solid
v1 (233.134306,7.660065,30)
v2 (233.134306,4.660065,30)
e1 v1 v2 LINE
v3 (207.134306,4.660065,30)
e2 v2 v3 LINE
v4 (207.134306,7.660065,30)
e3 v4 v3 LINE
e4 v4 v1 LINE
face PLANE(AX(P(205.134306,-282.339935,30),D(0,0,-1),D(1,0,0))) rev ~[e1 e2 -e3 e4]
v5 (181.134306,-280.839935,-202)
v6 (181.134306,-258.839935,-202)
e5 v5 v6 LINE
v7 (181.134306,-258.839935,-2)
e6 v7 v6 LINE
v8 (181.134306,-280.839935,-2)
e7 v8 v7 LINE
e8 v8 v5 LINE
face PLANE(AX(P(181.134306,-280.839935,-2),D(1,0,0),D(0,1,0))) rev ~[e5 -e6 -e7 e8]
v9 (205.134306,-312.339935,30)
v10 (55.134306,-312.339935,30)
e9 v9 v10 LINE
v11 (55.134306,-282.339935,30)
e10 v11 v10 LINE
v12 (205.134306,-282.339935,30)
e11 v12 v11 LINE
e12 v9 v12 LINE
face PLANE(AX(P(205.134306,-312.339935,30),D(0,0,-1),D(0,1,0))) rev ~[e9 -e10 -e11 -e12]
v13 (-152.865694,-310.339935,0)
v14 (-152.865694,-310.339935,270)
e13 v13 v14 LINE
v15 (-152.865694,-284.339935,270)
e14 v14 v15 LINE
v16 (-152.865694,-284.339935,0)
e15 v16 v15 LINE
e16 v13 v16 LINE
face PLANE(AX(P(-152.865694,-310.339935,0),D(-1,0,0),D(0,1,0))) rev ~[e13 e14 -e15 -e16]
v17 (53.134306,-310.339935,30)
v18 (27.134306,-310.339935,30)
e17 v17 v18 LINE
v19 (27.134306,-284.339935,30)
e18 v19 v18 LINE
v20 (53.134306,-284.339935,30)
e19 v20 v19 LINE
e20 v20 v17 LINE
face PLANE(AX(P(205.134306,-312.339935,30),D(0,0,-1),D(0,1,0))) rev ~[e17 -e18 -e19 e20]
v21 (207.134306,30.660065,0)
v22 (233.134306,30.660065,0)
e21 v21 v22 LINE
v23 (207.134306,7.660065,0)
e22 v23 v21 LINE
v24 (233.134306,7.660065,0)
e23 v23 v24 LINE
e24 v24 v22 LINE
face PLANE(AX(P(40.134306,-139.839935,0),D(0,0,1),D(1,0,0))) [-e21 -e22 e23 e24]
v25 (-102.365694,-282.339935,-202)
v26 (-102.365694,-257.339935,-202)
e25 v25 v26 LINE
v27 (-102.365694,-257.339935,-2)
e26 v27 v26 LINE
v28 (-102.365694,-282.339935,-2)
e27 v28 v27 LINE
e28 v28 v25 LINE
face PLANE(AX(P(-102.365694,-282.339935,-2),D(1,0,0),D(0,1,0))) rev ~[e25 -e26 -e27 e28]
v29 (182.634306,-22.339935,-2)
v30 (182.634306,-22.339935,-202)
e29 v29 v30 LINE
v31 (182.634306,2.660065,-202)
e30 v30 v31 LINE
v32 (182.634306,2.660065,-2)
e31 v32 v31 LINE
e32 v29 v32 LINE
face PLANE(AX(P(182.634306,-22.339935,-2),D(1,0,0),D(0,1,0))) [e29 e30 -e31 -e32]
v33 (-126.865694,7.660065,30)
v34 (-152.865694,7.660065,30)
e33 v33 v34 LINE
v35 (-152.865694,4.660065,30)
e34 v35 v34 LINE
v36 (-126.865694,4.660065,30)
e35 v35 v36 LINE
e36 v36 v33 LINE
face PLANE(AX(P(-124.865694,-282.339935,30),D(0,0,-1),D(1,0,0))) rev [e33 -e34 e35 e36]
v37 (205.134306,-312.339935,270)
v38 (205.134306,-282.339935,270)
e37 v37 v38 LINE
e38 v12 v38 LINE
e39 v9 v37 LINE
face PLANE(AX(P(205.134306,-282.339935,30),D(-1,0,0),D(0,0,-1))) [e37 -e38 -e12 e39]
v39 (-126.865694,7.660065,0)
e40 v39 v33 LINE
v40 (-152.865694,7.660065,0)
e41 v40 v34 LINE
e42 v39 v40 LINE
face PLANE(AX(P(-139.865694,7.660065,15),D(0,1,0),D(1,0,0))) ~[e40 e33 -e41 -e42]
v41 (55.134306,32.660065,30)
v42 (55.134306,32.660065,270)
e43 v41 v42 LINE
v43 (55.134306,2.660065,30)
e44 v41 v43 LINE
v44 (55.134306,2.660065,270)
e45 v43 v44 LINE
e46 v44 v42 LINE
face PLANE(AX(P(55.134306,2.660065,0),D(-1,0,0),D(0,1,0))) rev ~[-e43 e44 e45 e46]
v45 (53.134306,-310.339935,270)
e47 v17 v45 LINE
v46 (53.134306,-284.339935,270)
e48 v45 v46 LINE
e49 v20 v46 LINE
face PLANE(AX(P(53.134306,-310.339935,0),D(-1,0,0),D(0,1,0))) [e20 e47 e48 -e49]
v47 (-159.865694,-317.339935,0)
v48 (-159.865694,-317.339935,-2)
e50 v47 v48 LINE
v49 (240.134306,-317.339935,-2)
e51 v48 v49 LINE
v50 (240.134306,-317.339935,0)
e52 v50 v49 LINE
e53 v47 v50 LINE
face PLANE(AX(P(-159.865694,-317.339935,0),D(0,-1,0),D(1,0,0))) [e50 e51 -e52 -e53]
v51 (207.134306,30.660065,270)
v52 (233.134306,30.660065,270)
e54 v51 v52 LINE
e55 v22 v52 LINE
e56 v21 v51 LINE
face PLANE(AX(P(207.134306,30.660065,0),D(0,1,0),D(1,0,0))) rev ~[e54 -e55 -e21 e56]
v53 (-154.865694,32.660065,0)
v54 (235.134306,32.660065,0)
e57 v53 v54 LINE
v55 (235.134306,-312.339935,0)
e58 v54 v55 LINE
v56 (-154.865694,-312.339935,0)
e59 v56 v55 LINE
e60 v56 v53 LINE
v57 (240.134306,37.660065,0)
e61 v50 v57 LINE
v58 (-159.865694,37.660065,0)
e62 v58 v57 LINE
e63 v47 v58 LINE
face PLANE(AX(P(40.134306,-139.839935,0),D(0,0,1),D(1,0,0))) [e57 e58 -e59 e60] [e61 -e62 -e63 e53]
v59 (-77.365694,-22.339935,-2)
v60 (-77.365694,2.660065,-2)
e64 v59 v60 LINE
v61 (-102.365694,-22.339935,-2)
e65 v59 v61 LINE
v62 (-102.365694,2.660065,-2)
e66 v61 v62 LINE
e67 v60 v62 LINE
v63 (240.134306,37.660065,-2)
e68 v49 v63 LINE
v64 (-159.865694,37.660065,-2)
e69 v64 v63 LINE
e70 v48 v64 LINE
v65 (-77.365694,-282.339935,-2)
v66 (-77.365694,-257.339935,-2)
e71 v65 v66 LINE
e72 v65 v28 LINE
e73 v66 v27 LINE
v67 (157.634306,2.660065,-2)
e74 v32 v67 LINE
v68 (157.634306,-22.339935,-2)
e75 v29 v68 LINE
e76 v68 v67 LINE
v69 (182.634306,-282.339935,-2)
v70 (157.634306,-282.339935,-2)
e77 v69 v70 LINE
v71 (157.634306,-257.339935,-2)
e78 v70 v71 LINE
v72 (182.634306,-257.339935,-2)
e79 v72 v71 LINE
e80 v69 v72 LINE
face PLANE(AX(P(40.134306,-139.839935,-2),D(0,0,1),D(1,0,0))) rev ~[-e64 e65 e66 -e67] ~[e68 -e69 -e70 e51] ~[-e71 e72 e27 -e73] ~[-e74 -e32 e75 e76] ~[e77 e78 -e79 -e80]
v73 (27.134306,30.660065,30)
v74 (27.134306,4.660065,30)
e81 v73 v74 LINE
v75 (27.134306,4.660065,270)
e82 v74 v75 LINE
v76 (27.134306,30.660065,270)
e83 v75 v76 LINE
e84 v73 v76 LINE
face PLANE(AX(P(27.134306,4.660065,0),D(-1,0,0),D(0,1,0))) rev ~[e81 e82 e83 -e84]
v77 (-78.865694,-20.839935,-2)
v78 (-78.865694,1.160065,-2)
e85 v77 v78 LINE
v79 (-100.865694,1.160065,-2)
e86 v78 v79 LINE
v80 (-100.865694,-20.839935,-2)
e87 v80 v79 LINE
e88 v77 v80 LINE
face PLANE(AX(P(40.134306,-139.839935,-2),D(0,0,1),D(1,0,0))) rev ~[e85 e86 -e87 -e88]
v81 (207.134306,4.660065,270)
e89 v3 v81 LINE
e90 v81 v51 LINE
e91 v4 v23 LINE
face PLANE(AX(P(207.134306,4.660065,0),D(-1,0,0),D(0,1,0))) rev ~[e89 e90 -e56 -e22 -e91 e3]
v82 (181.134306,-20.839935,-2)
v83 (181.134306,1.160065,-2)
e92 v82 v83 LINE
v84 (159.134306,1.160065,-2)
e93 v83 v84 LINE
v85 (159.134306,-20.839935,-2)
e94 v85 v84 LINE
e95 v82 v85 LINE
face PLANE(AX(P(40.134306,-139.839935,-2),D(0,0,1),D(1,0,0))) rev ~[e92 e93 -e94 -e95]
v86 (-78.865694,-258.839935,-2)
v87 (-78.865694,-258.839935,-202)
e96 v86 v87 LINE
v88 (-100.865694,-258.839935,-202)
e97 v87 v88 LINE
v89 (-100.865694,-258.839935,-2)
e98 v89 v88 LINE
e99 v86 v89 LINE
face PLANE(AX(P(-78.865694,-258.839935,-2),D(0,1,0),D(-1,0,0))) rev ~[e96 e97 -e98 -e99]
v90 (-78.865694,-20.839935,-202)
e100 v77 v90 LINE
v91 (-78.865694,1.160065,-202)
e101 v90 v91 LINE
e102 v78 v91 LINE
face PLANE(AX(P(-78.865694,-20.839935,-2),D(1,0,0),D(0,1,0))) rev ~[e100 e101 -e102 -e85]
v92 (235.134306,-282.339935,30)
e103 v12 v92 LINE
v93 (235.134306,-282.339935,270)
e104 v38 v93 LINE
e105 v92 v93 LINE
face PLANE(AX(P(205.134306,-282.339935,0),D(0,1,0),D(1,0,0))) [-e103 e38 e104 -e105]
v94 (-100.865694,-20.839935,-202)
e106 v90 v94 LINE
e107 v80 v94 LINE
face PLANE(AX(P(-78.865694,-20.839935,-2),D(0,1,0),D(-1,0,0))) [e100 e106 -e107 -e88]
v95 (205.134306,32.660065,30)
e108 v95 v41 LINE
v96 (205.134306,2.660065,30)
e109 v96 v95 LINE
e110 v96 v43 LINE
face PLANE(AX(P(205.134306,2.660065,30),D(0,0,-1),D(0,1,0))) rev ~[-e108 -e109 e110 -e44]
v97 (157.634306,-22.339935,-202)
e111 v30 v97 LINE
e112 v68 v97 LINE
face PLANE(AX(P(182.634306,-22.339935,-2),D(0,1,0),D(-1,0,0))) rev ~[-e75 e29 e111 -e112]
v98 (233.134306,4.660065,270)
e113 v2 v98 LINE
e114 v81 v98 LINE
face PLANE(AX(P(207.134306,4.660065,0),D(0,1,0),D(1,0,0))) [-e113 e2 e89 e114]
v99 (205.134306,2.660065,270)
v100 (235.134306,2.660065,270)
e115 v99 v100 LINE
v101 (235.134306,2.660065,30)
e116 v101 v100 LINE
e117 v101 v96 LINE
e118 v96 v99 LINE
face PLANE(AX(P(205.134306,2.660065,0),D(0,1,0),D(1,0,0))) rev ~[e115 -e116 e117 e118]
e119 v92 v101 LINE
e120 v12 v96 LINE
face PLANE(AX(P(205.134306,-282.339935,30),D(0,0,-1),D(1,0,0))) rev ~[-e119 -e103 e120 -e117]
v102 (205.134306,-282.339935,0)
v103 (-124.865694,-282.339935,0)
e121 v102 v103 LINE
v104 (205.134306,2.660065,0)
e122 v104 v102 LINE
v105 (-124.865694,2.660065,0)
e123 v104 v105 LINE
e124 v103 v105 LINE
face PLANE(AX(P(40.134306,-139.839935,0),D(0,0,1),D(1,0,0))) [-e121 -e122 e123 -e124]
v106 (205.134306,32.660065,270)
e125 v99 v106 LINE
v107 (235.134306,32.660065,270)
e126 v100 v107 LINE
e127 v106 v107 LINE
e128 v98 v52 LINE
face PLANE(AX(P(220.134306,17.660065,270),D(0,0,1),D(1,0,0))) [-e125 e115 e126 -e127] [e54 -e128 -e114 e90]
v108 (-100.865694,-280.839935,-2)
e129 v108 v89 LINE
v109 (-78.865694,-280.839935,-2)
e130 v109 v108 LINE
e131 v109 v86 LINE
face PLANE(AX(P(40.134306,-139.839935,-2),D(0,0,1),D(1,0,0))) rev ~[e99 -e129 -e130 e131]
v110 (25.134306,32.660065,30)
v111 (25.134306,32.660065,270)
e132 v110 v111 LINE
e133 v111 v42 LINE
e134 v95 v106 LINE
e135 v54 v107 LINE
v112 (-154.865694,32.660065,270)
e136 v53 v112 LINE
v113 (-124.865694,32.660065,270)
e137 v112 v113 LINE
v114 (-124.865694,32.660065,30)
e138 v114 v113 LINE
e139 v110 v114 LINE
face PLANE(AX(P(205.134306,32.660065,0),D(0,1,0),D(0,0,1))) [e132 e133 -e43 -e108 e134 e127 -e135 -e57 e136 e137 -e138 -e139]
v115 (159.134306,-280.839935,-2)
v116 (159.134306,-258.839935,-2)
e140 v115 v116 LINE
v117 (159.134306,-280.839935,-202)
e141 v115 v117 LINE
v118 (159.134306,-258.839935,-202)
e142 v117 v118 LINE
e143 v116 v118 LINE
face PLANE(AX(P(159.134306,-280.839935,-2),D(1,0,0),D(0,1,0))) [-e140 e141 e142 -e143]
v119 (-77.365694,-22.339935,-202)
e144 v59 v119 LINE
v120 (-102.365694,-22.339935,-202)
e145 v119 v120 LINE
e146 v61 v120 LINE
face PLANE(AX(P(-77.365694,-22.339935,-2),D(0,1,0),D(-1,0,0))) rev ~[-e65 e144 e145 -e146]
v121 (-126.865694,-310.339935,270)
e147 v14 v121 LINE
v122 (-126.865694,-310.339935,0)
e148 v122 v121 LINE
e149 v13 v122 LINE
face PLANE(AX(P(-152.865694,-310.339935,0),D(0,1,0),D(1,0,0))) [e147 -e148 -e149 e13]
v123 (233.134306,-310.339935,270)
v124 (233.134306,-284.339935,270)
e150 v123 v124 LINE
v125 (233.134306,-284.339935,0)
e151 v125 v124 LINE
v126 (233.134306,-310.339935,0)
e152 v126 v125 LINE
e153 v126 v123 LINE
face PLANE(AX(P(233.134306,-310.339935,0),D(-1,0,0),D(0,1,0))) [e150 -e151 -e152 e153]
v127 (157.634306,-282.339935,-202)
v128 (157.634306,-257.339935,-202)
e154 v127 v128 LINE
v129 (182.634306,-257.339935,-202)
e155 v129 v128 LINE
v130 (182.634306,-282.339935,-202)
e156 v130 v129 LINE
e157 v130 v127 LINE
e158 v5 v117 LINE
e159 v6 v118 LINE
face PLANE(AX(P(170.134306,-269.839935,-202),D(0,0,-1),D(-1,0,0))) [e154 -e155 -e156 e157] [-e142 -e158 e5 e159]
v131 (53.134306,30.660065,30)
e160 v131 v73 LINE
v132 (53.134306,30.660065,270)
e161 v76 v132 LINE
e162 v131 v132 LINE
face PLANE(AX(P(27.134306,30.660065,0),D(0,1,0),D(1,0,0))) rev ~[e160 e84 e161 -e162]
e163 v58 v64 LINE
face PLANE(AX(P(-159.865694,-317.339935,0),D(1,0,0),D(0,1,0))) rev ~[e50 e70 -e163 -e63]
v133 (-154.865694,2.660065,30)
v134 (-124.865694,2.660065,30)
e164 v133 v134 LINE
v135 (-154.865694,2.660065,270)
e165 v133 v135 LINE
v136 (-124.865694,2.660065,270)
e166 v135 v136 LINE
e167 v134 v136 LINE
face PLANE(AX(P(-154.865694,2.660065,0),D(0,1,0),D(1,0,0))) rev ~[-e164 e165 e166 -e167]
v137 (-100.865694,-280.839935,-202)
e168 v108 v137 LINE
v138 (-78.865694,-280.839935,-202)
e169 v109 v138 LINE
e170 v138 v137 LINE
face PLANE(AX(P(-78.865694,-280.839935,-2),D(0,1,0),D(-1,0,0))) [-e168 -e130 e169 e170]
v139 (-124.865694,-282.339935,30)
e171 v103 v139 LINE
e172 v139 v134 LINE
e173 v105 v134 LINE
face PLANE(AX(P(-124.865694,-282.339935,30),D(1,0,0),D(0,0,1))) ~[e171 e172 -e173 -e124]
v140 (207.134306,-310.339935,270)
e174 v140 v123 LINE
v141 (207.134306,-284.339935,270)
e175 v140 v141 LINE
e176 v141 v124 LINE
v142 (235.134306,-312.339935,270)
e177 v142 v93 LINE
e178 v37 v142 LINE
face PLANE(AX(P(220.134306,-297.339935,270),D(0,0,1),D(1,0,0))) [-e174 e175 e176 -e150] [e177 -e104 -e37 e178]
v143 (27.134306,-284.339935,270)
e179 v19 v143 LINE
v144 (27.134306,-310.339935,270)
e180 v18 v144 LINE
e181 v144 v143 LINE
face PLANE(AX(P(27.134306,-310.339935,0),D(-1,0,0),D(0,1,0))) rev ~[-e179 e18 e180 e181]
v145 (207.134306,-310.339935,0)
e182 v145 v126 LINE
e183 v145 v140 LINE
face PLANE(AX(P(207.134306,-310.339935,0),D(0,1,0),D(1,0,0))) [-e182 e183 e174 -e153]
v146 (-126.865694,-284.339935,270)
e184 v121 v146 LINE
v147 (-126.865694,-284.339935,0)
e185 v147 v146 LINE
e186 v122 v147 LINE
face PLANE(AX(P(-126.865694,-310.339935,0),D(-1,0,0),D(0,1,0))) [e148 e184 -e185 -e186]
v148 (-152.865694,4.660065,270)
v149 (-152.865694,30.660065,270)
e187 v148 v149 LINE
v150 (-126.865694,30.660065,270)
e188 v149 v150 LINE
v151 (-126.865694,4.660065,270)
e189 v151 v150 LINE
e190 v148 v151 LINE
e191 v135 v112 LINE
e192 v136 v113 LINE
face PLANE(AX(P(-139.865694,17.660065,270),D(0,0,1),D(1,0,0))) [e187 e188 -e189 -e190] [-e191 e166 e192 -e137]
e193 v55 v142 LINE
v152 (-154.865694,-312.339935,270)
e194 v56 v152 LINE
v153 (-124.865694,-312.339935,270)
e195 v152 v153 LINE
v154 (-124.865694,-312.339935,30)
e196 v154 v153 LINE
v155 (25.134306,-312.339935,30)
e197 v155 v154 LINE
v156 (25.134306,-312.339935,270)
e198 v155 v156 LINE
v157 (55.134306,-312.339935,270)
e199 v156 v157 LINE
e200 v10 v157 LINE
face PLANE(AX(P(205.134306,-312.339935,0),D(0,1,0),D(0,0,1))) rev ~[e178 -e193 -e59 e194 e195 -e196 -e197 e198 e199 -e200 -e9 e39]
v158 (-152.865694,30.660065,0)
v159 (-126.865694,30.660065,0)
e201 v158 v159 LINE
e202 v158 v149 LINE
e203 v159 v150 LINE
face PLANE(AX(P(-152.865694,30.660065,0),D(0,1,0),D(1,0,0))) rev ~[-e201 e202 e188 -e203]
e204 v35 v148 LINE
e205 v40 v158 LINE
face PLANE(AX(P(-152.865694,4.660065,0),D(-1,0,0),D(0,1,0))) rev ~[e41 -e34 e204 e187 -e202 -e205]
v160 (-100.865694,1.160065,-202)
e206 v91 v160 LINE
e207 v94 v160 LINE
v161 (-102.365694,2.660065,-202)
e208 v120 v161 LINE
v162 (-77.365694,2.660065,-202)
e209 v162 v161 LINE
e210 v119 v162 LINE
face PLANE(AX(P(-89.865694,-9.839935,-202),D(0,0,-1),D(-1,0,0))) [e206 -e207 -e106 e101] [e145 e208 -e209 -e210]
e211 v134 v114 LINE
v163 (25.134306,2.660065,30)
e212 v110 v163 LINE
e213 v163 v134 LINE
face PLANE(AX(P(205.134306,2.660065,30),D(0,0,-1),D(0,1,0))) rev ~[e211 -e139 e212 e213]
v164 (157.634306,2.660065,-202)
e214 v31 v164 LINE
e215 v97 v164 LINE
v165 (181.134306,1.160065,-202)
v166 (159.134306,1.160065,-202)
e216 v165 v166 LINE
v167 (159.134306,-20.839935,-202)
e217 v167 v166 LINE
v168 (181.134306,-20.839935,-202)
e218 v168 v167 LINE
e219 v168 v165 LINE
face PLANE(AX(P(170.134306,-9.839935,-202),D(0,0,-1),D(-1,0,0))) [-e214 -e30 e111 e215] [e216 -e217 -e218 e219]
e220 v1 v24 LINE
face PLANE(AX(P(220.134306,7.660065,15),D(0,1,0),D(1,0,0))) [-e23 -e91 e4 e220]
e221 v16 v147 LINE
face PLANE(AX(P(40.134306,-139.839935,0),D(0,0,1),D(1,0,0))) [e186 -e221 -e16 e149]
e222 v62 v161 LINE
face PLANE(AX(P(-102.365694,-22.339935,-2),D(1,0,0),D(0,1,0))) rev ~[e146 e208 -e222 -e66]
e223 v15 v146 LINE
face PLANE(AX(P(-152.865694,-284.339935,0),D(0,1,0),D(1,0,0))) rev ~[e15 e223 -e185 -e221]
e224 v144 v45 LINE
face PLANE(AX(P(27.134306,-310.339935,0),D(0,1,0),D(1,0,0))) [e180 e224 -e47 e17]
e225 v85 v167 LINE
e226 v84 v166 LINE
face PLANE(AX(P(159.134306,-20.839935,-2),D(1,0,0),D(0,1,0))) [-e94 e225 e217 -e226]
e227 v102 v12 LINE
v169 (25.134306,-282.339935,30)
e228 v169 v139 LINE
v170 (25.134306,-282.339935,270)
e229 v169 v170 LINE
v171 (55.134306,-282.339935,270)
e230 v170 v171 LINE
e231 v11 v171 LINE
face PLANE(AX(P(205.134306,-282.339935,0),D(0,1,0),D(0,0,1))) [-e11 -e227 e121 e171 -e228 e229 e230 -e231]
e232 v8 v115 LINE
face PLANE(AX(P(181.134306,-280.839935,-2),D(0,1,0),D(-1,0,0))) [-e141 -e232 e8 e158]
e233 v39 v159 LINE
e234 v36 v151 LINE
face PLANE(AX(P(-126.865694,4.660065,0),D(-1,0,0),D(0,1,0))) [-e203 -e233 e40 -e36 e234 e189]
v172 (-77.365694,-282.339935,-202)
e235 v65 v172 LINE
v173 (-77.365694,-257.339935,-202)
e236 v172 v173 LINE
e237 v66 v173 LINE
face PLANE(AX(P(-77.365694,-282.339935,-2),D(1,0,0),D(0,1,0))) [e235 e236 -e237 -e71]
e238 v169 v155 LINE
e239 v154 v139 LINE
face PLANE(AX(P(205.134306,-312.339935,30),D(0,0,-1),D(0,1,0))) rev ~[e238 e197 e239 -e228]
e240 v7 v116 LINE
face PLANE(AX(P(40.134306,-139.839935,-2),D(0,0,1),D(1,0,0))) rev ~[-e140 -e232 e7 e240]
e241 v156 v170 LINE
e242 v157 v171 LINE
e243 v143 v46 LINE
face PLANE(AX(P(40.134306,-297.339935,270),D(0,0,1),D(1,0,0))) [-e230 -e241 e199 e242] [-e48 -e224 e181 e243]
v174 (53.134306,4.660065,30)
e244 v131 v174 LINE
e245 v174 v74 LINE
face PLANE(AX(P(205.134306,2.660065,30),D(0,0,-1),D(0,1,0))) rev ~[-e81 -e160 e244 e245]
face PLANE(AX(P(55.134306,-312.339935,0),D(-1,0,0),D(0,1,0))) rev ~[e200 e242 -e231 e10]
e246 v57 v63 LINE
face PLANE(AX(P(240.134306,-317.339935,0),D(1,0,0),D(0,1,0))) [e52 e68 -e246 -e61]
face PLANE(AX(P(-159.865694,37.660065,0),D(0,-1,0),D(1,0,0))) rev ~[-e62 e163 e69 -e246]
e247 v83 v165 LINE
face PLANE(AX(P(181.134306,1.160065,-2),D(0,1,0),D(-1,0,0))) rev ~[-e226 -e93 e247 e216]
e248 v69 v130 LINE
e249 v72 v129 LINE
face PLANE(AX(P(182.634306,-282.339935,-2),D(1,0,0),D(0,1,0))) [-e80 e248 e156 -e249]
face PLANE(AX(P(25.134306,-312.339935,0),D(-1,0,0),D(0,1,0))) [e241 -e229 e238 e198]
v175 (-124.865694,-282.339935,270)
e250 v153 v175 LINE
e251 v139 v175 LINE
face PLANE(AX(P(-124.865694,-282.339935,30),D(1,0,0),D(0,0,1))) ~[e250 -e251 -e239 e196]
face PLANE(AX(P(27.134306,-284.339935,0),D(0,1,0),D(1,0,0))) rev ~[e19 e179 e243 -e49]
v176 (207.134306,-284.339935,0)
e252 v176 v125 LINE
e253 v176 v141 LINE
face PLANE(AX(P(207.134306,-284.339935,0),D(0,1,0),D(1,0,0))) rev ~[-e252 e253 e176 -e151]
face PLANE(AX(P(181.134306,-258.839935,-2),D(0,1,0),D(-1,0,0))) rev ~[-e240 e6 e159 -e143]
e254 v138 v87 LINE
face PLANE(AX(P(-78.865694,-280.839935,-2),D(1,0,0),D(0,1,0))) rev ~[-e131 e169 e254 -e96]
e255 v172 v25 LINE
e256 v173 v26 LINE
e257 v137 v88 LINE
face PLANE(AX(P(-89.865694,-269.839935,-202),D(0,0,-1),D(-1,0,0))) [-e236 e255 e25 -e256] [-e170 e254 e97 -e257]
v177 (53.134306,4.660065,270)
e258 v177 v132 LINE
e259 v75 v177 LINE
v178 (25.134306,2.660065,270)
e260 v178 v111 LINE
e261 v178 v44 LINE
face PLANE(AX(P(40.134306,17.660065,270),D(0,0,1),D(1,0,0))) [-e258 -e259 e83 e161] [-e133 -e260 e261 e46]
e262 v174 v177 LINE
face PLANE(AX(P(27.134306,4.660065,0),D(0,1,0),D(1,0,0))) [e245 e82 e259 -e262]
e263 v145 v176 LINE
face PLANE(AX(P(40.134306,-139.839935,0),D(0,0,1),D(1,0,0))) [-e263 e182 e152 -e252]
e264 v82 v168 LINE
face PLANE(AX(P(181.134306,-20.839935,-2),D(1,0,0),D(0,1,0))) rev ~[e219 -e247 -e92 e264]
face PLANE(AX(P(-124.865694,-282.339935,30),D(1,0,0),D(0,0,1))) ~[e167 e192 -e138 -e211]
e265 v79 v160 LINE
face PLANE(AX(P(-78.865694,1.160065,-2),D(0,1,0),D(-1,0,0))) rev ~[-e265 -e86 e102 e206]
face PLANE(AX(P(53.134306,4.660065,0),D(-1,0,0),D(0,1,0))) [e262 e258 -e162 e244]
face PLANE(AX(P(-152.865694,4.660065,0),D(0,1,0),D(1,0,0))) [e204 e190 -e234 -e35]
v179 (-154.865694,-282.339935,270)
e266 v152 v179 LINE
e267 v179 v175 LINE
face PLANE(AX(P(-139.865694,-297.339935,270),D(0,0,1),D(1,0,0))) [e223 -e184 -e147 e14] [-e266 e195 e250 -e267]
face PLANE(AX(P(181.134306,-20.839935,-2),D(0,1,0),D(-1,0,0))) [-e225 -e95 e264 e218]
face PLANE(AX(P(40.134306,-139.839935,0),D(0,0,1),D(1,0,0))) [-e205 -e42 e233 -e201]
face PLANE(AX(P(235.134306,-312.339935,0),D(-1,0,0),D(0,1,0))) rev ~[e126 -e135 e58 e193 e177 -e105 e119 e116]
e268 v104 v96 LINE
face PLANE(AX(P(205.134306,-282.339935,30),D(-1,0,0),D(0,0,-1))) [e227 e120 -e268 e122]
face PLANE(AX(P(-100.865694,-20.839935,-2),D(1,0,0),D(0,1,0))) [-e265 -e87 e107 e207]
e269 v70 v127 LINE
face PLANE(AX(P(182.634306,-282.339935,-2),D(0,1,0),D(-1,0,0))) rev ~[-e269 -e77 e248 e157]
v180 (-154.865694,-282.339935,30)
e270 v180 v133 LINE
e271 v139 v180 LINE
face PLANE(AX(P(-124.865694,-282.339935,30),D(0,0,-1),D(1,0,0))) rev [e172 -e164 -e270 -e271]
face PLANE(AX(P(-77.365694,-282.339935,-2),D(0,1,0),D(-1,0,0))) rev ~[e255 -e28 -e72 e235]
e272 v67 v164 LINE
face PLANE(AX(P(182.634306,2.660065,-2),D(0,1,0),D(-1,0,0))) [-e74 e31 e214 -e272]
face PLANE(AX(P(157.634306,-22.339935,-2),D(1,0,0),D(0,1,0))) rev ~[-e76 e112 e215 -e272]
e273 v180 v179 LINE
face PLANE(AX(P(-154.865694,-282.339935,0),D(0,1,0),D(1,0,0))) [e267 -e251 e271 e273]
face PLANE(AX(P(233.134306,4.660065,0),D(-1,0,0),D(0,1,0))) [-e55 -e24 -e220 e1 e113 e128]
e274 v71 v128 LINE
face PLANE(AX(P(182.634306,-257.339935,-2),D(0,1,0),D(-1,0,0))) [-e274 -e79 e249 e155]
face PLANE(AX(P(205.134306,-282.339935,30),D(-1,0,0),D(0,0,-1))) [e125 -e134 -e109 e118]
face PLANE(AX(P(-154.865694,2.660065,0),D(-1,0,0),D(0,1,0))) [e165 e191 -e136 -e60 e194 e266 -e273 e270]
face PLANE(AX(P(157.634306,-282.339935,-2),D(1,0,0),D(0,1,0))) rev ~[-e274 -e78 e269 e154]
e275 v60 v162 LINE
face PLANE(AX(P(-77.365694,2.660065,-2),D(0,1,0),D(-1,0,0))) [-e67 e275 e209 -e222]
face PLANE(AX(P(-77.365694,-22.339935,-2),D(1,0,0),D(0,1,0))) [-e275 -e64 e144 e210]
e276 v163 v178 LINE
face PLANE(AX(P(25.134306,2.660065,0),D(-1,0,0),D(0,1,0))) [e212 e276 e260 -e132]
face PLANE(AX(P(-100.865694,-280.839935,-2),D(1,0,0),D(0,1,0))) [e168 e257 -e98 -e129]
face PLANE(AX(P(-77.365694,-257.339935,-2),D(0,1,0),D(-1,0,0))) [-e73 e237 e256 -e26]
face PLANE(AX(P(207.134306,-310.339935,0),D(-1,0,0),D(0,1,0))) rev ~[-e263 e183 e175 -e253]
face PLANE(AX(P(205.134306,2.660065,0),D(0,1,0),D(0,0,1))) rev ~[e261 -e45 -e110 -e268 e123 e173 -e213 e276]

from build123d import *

# Parameters (mm, degrees)
SKETCH_1_W        = 30
SKETCH_1_H        = 30
SKETCH_1_W_2      = 26
SKETCH_1_H_2      = 26
EXTRUDE_1_DEPTH   = 270
EXTRUDE_1_2_DEPTH = 270
EXTRUDE_1_3_DEPTH = 270
EXTRUDE_1_4_DEPTH = 270
EXTRUDE_1_5_DEPTH = 270
EXTRUDE_1_6_DEPTH = 270
SKETCH_1_4_W      = 400
SKETCH_1_4_H      = 355
EXTRUDE_2_DEPTH   = 2
SKETCH_3_W        = 25
SKETCH_3_H        = 25
SKETCH_3_W_2      = 22
SKETCH_3_H_2      = 22
EXTRUDE_3_DEPTH   = 200
SKETCH_9_W        = 30
SKETCH_9_H        = 30
EXTRUDE_4_DEPTH   = 290
SKETCH_10_W       = 30
SKETCH_10_H       = 30
EXTRUDE_5_DEPTH   = 330


with BuildPart() as part:
    # 草圖1 → 填料-伸長1 (new body)
    with BuildSketch(Plane.XY):
        with Locations((-139.865693992, 17.660065035)):
            Rectangle(SKETCH_1_W, SKETCH_1_H)
        with Locations((-139.865693992, 17.660065035)):
            Rectangle(SKETCH_1_W_2, SKETCH_1_H_2, mode=Mode.SUBTRACT)
    extrude(amount=EXTRUDE_1_DEPTH)



with BuildPart() as body_2:
    # 草圖1 → Extrude 1 2 (new body)
    with BuildSketch(Plane.XY):
        with Locations((40.134306008, 17.660065035)):
            Rectangle(SKETCH_1_W, SKETCH_1_H)
        with Locations((40.134306008, 17.660065035)):
            Rectangle(SKETCH_1_W_2, SKETCH_1_H_2, mode=Mode.SUBTRACT)
    extrude(amount=EXTRUDE_1_2_DEPTH)


with BuildPart() as body_3:
    # 草圖1 → Extrude 1 3 (new body)
    with BuildSketch(Plane.XY):
        with Locations((220.134306008, 17.660065035)):
            Rectangle(SKETCH_1_W, SKETCH_1_H)
        with Locations((220.134306008, 17.660065035)):
            Rectangle(SKETCH_1_W_2, SKETCH_1_H_2, mode=Mode.SUBTRACT)
    extrude(amount=EXTRUDE_1_3_DEPTH)


with BuildPart() as body_4:
    # 草圖1 → Extrude 1 4 (new body)
    with BuildSketch(Plane.XY):
        with Locations((-139.865693992, -297.339934965)):
            Rectangle(SKETCH_1_W, SKETCH_1_H)
        with Locations((-139.865693992, -297.339934965)):
            Rectangle(SKETCH_1_W_2, SKETCH_1_H_2, mode=Mode.SUBTRACT)
    extrude(amount=EXTRUDE_1_4_DEPTH)


with BuildPart() as body_5:
    # 草圖1 → Extrude 1 5 (new body)
    with BuildSketch(Plane.XY):
        with Locations((40.134306008, -297.339934965)):
            Rectangle(SKETCH_1_W, SKETCH_1_H)
        with Locations((40.134306008, -297.339934965)):
            Rectangle(SKETCH_1_W_2, SKETCH_1_H_2, mode=Mode.SUBTRACT)
    extrude(amount=EXTRUDE_1_5_DEPTH)


with BuildPart() as body_6:
    # 草圖1 → Extrude 1 6 (new body)
    with BuildSketch(Plane.XY):
        with Locations((220.134306008, -297.339934965)):
            Rectangle(SKETCH_1_W, SKETCH_1_H)
        with Locations((220.134306008, -297.339934965)):
            Rectangle(SKETCH_1_W_2, SKETCH_1_H_2, mode=Mode.SUBTRACT)
    extrude(amount=EXTRUDE_1_6_DEPTH)


with BuildPart() as part_1:
    add(part.part)

    add(body_2.part)  # 填料-伸長2 merges body 2

    add(body_3.part)  # 填料-伸長2 merges body 3

    add(body_4.part)  # 填料-伸長2 merges body 4

    add(body_5.part)  # 填料-伸長2 merges body 5

    add(body_6.part)  # 填料-伸長2 merges body 6
    # 草圖1<4> → 填料-伸長2 (add)
    with BuildSketch(Plane.XY):
        with Locations((40.134306008, -139.839934965)):
            Rectangle(SKETCH_1_4_W, SKETCH_1_4_H)
    extrude(amount=-EXTRUDE_2_DEPTH)

    # 草圖3 → 填料-伸長3 (add)
    # profile 1 of 4: a face of its own
    with BuildSketch(Plane(origin=(0, 0, -2), x_dir=(-1, 0, 0), z_dir=(0, 0, -1))):
        with Locations((-170.134306008, -9.839934965)):
            Rectangle(SKETCH_3_W, SKETCH_3_H)
        with Locations((-170.134306008, -9.839934965)):
            Rectangle(SKETCH_3_W_2, SKETCH_3_H_2, mode=Mode.SUBTRACT)
    # profile 2 of 4: a face of its own
    with BuildSketch(Plane(origin=(0, 0, -2), x_dir=(-1, 0, 0), z_dir=(0, 0, -1))):
        with Locations((-170.134306008, -269.839934965)):
            Rectangle(SKETCH_3_W, SKETCH_3_H)
        with Locations((-170.134306008, -269.839934965)):
            Rectangle(SKETCH_3_W_2, SKETCH_3_H_2, mode=Mode.SUBTRACT)
    # profile 3 of 4: a face of its own
    with BuildSketch(Plane(origin=(0, 0, -2), x_dir=(-1, 0, 0), z_dir=(0, 0, -1))):
        with Locations((89.865693992, -269.839934965)):
            Rectangle(SKETCH_3_W, SKETCH_3_H)
        with Locations((89.865693992, -269.839934965)):
            Rectangle(SKETCH_3_W_2, SKETCH_3_H_2, mode=Mode.SUBTRACT)
    # profile 4 of 4: a face of its own
    with BuildSketch(Plane(origin=(0, 0, -2), x_dir=(-1, 0, 0), z_dir=(0, 0, -1))):
        with Locations((89.865693992, -9.839934965)):
            Rectangle(SKETCH_3_W, SKETCH_3_H)
        with Locations((89.865693992, -9.839934965)):
            Rectangle(SKETCH_3_W_2, SKETCH_3_H_2, mode=Mode.SUBTRACT)
    extrude(amount=EXTRUDE_3_DEPTH)

    # 草圖9 → 填料-伸長4 (add)
    with BuildSketch(Plane(origin=(0, -282.339934965, 0), x_dir=(1, 0, 0), z_dir=(0, 1, 0))):
        with Locations((220.134306008, -15)):
            Rectangle(SKETCH_9_W, SKETCH_9_H)
    extrude_4 = extrude(amount=EXTRUDE_4_DEPTH)

    # 鏡射1: 填料-伸長4 across plane
    add(extrude_4.mirror(Plane.ZY.offset(-40.134306008)))

    # 草圖10 → 填料-伸長5 (add)
    with BuildSketch(Plane.ZY.offset(-205.134306008)):
        with Locations((15, -297.339934965)):
            Rectangle(SKETCH_10_W, SKETCH_10_H)
        with Locations((15, 17.660065035)):
            Rectangle(SKETCH_10_W, SKETCH_10_H)
    extrude(amount=EXTRUDE_5_DEPTH)


solid = part_1.part
